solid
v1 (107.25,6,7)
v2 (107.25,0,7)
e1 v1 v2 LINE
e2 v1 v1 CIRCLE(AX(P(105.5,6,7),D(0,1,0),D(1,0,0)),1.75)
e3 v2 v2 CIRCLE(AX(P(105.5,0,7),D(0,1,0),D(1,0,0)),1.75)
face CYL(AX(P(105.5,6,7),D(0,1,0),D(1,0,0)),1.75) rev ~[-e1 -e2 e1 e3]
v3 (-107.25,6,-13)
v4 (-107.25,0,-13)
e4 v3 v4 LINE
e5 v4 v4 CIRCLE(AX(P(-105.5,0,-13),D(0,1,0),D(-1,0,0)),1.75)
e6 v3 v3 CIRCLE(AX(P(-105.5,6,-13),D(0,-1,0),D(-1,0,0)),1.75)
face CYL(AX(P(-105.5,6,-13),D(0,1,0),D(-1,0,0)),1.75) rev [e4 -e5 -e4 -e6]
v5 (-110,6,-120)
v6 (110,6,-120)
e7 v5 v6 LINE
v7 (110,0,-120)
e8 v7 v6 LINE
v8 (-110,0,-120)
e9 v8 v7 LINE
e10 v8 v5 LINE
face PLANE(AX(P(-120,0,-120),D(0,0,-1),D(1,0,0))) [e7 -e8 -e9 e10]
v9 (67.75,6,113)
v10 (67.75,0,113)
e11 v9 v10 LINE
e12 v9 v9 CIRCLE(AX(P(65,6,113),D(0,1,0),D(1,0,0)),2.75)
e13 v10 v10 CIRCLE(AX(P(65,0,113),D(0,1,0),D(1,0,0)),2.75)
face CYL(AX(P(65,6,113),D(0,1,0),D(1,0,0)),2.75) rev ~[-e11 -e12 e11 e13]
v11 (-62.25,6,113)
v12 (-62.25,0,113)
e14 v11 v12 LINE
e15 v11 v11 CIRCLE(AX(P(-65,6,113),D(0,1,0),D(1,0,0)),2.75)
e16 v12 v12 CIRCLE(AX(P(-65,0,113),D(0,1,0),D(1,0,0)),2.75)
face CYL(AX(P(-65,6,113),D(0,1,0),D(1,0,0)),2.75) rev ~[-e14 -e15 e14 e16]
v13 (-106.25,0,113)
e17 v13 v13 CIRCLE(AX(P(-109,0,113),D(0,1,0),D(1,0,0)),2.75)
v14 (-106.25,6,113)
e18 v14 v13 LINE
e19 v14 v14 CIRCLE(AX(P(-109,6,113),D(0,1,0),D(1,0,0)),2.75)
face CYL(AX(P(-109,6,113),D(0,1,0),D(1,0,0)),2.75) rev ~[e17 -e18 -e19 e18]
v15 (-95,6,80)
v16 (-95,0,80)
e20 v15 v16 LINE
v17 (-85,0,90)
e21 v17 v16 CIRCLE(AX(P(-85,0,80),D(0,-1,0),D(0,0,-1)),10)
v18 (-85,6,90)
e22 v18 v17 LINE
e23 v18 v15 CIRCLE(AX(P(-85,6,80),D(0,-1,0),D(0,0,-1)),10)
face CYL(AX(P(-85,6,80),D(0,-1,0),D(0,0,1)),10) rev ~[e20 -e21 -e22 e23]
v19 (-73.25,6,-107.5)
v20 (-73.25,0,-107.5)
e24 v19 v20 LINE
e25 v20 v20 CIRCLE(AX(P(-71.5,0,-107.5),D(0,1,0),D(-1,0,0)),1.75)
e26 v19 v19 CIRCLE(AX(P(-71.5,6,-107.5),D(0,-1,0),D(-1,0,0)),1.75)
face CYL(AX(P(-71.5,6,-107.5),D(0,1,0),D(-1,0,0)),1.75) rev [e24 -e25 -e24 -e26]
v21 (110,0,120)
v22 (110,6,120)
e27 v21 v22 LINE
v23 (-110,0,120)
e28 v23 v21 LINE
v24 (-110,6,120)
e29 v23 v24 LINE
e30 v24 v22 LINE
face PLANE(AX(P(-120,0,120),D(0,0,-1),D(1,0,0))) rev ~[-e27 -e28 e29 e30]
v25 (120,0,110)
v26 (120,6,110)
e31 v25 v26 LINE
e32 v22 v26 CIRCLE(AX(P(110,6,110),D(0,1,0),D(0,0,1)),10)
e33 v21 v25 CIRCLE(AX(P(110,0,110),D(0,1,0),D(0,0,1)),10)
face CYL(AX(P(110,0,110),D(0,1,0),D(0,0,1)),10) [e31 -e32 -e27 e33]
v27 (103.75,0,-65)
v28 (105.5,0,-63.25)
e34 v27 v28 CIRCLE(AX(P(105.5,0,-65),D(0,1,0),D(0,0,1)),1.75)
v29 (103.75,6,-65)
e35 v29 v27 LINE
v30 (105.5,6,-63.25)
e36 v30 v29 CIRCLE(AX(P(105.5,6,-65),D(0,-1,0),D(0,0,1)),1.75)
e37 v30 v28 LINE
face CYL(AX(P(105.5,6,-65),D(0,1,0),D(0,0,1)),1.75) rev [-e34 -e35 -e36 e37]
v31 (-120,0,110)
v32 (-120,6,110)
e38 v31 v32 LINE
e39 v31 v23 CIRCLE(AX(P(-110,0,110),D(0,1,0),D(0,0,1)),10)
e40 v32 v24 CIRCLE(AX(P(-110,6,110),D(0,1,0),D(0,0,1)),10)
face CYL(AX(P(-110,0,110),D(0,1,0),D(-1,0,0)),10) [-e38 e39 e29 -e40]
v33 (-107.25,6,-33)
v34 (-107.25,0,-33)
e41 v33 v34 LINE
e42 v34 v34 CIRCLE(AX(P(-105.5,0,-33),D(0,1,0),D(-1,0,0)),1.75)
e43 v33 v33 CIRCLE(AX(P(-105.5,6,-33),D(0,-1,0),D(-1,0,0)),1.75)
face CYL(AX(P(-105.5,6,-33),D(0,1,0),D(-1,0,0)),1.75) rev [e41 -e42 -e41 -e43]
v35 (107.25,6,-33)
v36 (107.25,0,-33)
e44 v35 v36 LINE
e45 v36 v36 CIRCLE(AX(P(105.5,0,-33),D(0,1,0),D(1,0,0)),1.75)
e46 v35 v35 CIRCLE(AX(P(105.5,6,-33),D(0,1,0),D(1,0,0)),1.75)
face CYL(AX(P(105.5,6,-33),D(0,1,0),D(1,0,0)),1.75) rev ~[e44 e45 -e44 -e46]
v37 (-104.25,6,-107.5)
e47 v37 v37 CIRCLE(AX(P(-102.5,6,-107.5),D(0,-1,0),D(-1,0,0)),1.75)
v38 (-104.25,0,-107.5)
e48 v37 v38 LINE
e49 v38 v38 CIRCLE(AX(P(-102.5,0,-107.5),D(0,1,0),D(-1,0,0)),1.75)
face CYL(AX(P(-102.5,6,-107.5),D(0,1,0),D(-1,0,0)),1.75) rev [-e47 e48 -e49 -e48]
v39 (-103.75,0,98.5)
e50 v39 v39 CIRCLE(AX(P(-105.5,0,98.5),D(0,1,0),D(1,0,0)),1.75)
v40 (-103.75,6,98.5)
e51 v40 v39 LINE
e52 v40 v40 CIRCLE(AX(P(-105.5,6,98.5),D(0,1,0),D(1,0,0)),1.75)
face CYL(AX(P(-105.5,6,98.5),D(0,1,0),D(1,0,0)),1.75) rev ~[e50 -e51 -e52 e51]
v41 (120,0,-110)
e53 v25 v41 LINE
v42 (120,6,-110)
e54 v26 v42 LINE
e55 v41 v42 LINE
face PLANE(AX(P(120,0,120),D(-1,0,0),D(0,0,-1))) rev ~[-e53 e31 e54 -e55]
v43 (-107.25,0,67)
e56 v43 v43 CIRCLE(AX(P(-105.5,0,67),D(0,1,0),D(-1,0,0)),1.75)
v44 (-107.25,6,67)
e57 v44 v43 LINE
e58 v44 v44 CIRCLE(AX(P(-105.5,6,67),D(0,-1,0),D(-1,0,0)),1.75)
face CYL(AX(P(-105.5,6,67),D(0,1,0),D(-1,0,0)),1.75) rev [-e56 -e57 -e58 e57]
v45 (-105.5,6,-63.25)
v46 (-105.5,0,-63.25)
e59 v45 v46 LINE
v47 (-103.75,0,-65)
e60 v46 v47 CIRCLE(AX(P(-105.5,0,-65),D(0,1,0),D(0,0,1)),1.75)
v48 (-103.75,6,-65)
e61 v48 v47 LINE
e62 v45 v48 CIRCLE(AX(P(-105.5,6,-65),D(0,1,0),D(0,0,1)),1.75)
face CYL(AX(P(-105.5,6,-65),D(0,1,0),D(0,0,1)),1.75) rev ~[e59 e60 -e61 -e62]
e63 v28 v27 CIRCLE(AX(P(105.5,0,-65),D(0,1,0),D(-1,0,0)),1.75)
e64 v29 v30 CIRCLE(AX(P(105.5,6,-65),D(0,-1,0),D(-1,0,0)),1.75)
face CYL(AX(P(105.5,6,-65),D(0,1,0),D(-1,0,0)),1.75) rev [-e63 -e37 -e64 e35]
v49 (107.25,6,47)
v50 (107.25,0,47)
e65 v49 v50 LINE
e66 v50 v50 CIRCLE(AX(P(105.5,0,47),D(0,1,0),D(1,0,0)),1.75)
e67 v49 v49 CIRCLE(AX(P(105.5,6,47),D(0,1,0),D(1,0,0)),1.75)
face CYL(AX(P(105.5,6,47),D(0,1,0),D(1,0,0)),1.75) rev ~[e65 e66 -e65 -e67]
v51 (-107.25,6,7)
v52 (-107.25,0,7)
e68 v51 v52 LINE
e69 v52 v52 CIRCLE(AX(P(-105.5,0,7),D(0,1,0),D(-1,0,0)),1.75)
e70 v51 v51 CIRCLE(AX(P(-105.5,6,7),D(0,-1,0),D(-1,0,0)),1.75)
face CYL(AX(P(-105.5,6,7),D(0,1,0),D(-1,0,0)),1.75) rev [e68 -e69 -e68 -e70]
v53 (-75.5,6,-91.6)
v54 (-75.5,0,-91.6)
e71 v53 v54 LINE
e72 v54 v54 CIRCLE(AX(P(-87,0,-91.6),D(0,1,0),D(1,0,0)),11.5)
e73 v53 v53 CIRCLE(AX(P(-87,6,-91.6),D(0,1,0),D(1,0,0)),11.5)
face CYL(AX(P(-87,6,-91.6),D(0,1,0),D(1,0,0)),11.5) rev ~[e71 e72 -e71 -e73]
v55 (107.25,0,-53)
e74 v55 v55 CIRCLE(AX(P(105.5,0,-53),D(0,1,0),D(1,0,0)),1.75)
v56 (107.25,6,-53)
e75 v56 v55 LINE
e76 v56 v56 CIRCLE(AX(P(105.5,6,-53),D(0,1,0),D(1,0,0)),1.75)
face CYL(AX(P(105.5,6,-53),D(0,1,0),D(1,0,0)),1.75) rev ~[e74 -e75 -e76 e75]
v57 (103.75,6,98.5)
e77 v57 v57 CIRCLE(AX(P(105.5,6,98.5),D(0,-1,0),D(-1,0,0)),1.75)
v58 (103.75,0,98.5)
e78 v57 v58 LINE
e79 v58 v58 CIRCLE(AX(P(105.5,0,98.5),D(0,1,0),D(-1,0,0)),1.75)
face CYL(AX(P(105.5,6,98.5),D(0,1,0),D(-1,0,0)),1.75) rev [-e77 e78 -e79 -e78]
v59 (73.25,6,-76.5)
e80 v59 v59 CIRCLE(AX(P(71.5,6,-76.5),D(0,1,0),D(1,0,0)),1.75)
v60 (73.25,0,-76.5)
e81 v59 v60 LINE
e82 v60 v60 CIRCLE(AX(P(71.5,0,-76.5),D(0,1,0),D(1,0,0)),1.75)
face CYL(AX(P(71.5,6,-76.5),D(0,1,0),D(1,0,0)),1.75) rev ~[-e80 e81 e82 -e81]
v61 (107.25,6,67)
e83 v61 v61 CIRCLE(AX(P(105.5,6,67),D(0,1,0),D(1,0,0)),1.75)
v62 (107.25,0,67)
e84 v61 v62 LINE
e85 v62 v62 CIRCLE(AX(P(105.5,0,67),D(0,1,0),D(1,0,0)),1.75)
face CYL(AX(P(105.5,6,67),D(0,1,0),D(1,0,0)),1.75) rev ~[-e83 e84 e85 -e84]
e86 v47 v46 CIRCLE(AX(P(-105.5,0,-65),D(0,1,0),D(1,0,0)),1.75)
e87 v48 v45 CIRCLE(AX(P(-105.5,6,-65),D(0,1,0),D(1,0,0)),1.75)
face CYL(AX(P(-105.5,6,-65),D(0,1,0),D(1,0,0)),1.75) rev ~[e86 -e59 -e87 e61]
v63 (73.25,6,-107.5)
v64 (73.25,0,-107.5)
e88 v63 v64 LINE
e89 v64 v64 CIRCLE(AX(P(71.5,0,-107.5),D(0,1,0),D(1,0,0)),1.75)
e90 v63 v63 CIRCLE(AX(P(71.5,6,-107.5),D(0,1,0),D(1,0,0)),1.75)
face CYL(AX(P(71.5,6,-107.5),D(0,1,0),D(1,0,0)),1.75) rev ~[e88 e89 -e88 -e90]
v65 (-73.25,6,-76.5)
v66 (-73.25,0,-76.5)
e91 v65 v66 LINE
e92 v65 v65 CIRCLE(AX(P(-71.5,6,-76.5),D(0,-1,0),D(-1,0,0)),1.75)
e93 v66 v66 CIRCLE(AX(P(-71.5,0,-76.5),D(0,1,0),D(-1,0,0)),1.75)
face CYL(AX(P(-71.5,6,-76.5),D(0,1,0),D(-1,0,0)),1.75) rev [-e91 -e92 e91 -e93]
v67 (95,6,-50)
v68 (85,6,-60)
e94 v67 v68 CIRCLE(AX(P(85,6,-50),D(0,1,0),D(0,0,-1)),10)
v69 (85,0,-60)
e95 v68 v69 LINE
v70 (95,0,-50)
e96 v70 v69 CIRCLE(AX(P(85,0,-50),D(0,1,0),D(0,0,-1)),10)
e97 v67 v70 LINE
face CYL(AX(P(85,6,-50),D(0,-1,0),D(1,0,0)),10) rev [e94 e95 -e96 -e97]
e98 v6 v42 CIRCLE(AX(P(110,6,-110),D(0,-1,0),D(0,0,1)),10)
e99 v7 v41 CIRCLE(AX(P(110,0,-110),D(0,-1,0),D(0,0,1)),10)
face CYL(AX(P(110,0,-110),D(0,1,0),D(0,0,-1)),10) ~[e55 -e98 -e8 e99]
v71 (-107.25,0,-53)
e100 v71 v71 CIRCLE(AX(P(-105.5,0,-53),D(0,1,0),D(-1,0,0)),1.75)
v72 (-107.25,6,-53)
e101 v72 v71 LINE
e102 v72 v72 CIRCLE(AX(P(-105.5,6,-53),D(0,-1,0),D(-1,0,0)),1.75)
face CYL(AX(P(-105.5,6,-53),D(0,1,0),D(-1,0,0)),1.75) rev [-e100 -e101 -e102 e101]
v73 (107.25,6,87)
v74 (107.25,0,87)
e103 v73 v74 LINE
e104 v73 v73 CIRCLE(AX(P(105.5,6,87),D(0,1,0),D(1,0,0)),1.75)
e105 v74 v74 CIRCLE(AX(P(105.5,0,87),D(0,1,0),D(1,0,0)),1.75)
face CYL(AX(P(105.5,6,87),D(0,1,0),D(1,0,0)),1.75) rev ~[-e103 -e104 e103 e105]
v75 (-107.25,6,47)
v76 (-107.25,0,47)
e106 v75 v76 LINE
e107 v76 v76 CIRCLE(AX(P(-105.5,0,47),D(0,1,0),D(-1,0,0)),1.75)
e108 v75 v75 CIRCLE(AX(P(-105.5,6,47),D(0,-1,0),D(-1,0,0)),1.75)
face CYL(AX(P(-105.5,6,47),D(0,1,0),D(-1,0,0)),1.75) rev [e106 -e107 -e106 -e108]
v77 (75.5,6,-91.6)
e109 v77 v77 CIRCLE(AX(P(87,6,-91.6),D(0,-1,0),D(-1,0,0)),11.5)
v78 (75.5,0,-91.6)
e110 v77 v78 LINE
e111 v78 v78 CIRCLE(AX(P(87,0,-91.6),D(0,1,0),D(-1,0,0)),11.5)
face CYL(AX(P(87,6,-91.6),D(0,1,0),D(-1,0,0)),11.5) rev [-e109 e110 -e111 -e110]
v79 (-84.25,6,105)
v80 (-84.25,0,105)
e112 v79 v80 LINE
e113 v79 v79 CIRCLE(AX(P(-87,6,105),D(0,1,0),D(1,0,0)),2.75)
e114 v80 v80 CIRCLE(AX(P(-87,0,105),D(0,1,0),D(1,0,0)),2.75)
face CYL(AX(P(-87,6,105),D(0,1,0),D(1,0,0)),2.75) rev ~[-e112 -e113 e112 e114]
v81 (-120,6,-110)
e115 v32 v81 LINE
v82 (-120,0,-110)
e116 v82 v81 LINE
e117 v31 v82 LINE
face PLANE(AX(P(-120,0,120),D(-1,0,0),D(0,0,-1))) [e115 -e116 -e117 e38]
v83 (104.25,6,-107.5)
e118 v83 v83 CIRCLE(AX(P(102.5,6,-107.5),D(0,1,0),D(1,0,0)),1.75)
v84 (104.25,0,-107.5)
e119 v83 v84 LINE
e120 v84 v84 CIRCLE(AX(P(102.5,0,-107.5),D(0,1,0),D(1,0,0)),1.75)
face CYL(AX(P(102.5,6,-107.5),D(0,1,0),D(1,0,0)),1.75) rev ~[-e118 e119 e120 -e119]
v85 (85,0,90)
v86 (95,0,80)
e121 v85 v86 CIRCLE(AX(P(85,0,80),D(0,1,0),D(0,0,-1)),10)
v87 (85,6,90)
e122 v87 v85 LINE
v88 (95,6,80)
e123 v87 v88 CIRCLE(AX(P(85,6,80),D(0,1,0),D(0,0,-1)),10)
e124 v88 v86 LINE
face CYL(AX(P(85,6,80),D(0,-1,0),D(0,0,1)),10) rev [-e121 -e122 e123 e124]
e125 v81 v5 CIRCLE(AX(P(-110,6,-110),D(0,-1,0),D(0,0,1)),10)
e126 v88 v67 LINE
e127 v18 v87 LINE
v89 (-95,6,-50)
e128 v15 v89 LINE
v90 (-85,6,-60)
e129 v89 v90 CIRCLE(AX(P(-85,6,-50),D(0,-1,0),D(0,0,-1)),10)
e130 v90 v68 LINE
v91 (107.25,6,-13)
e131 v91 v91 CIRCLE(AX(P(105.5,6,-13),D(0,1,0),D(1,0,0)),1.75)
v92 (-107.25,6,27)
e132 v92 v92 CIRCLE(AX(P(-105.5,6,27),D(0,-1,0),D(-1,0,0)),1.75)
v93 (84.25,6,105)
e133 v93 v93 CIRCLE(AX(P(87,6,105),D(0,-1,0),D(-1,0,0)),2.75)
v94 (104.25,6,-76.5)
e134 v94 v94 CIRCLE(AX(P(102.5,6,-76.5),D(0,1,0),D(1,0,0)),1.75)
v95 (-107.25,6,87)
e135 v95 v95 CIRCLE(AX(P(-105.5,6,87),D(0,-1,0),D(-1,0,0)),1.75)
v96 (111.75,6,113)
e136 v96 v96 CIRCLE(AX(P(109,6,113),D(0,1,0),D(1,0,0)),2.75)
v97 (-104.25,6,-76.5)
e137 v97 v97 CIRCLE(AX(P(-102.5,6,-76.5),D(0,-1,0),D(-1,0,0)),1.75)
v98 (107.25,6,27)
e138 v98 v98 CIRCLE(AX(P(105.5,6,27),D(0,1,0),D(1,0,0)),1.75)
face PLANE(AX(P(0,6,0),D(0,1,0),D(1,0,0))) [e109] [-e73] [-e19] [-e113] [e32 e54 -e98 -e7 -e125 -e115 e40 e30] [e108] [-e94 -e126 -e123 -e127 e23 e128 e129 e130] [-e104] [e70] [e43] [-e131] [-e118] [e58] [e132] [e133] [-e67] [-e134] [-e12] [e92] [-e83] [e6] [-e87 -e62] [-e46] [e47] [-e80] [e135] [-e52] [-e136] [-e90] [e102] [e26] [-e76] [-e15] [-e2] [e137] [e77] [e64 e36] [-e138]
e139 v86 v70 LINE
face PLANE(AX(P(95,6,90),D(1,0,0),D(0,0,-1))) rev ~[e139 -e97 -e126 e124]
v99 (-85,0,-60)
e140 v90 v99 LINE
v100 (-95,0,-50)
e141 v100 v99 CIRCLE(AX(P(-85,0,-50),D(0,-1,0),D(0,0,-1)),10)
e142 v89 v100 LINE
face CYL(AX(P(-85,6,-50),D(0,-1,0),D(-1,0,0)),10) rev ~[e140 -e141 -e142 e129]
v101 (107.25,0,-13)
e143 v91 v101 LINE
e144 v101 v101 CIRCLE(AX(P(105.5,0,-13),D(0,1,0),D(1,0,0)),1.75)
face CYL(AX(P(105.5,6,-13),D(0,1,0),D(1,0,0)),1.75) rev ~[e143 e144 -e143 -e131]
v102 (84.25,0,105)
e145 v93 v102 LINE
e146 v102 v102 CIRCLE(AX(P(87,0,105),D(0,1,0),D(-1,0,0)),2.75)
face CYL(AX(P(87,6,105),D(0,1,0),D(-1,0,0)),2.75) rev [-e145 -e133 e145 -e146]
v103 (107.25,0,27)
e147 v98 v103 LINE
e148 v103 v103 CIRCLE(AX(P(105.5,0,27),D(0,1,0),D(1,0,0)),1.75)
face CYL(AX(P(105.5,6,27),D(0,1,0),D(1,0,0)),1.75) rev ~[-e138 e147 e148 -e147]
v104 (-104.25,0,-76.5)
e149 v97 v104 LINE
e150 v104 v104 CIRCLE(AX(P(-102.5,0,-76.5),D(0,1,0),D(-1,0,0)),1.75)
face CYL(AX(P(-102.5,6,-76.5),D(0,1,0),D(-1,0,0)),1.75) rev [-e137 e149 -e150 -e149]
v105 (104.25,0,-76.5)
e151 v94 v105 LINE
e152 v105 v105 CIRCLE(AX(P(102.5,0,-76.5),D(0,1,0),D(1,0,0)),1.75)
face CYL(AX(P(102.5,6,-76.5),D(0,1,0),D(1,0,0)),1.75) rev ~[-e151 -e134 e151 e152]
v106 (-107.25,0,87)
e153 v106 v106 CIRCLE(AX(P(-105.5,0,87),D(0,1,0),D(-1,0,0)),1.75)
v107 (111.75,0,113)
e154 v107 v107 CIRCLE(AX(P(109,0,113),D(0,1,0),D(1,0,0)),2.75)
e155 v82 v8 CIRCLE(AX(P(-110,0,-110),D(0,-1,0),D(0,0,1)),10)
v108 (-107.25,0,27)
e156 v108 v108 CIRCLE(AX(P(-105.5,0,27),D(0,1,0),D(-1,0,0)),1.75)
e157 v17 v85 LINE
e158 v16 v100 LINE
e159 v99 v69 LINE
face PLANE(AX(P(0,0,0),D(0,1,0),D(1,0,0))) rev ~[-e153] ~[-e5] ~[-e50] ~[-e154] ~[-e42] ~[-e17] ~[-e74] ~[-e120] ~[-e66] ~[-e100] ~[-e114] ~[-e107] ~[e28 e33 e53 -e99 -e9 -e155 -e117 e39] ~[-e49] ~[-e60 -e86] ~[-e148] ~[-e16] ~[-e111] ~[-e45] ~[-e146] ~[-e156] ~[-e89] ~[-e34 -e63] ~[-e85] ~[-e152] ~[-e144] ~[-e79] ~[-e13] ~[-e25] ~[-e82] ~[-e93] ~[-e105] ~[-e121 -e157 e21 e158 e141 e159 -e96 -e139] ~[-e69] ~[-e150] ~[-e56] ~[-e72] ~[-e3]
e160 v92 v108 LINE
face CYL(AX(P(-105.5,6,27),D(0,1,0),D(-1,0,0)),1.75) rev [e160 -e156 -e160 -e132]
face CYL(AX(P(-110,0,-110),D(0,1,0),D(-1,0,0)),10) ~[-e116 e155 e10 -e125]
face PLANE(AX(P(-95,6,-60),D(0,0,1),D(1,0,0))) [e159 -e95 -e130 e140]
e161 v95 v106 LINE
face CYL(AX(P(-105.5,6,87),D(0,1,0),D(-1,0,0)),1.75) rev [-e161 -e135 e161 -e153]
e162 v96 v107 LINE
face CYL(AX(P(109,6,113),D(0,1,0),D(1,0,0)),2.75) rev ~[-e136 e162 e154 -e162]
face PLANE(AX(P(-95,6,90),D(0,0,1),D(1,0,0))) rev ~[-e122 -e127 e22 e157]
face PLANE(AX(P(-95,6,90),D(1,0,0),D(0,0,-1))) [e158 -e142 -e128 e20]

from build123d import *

# Parameters (mm, degrees)
SKETCH1_W           = 240
SKETCH1_H           = 240
BOSS_EXTRUDE1_DEPTH = 6
SKETCH2_R           = 1.75
CUT_EXTRUDE1_DEPTH  = 170.811660377
SKETCH4_R           = 2.75
CUT_EXTRUDE2_DEPTH  = 170.811660377
SKETCH5_W           = 190
SKETCH5_H           = 150
CUT_EXTRUDE3_DEPTH  = 170.811660377
SKETCH6_R           = 11.5
CUT_EXTRUDE4_DEPTH  = 170.811660377
SKETCH9_R           = 2.75
CUT_EXTRUDE7_DEPTH  = 10
CUT_EXTRUDE8_DEPTH  = 10
SKETCH11_R          = 1.75
CUT_EXTRUDE9_DEPTH  = 10
FILLET1_R           = 10


with BuildPart() as part:
    # Sketch1 → Boss-Extrude1 (new body)
    with BuildSketch(Plane(origin=(0, 0, 0), x_dir=(1, 0, 0), z_dir=(0, 1, 0))):
        Rectangle(SKETCH1_W, SKETCH1_H)
    extrude(amount=BOSS_EXTRUDE1_DEPTH)

    # Sketch2 → Cut-Extrude1 (cut, through all)
    with BuildSketch(Plane(origin=(0, 6, 0), x_dir=(1, 0, 0), z_dir=(0, 1, 0))):
        with Locations((105.5, 53)):
            Circle(SKETCH2_R)
        with Locations((71.5, 107.5)):
            Circle(SKETCH2_R)
        with Locations((102.5, 107.5)):
            Circle(SKETCH2_R)
        with Locations((71.5, 76.5)):
            Circle(SKETCH2_R)
        with Locations((102.5, 76.5)):
            Circle(SKETCH2_R)
        with Locations((105.5, 33)):
            Circle(SKETCH2_R)
        with Locations((105.5, 13)):
            Circle(SKETCH2_R)
        with Locations((105.5, -7)):
            Circle(SKETCH2_R)
        with Locations((105.5, -27)):
            Circle(SKETCH2_R)
        with Locations((105.5, -47)):
            Circle(SKETCH2_R)
        with Locations((105.5, -67)):
            Circle(SKETCH2_R)
        with Locations((105.5, -87)):
            Circle(SKETCH2_R)
    cut_extrude1 = extrude(amount=-CUT_EXTRUDE1_DEPTH, mode=Mode.SUBTRACT)

    # Mirror1: Cut-Extrude1 across plane
    add(cut_extrude1.mirror(Plane(origin=(0, 0, 0), x_dir=(0, 0, 1), z_dir=(1, 0, 0))), mode=Mode.SUBTRACT)

    # Sketch4 → Cut-Extrude2 (cut, through all)
    with BuildSketch(Plane(origin=(0, 6, 0), x_dir=(1, 0, 0), z_dir=(0, 1, 0))):
        with Locations((-87, -105)):
            Circle(SKETCH4_R)
    cut_extrude2 = extrude(amount=-CUT_EXTRUDE2_DEPTH, mode=Mode.SUBTRACT)

    # Mirror2: Cut-Extrude2 across plane
    add(cut_extrude2.mirror(Plane(origin=(0, 0, 0), x_dir=(0, 0, 1), z_dir=(1, 0, 0))), mode=Mode.SUBTRACT)

    # Sketch5 → Cut-Extrude3 (cut, through all)
    with BuildSketch(Plane(origin=(0, 6, 0), x_dir=(1, 0, 0), z_dir=(0, 1, 0))):
        with Locations((0, -15)):
            Rectangle(SKETCH5_W, SKETCH5_H)
    extrude(amount=-CUT_EXTRUDE3_DEPTH, mode=Mode.SUBTRACT)

    # Sketch6 → Cut-Extrude4 (cut, through all)
    with BuildSketch(Plane(origin=(0, 6, 0), x_dir=(1, 0, 0), z_dir=(0, 1, 0))):
        with Locations((-87, 91.6)):
            Circle(SKETCH6_R)
    cut_extrude4 = extrude(amount=-CUT_EXTRUDE4_DEPTH, mode=Mode.SUBTRACT)

    # Mirror3: Cut-Extrude4 across plane
    add(cut_extrude4.mirror(Plane(origin=(0, 0, 0), x_dir=(0, 0, 1), z_dir=(1, 0, 0))), mode=Mode.SUBTRACT)

    # Sketch9 → Cut-Extrude7 (cut)
    with BuildSketch(Plane(origin=(0, 6, 0), x_dir=(1, 0, 0), z_dir=(0, 1, 0))):
        with Locations((-109, -113)):
            Circle(SKETCH9_R)
        with Locations((-65, -113)):
            Circle(SKETCH9_R)
        with Locations((65, -113)):
            Circle(SKETCH9_R)
        with Locations((109, -113)):
            Circle(SKETCH9_R)
    extrude(amount=-CUT_EXTRUDE7_DEPTH, mode=Mode.SUBTRACT)

    # Sketch10 → Cut-Extrude8 (cut)
    with BuildSketch(Plane(origin=(0, 6, 0), x_dir=(1, 0, 0), z_dir=(0, 1, 0))):
        with BuildLine():
            ThreePointArc((-105.5, 63.25), (-104.262563133, 63.762563133), (-103.75, 65))
            ThreePointArc((-103.75, 65), (-106.737436867, 66.237436867), (-105.5, 63.25))
        make_face()
    cut_extrude8 = extrude(amount=-CUT_EXTRUDE8_DEPTH, mode=Mode.SUBTRACT)

    # Mirror4: Cut-Extrude8 across plane
    add(cut_extrude8.mirror(Plane(origin=(0, 0, 0), x_dir=(0, 0, 1), z_dir=(1, 0, 0))), mode=Mode.SUBTRACT)

    # Sketch11 → Cut-Extrude9 (cut)
    with BuildSketch(Plane(origin=(0, 6, 0), x_dir=(1, 0, 0), z_dir=(0, 1, 0))):
        with Locations((-105.5, -98.5)):
            Circle(SKETCH11_R)
    cut_extrude9 = extrude(amount=-CUT_EXTRUDE9_DEPTH, mode=Mode.SUBTRACT)

    # Mirror6: Cut-Extrude9 across plane
    add(cut_extrude9.mirror(Plane(origin=(0, 0, 0), x_dir=(0, 0, 1), z_dir=(1, 0, 0))), mode=Mode.SUBTRACT)

    # Fillet1
    fillet1_edges = [part.edges().sort_by_distance(p)[0] for p in [
        (120, 3, -120),
        (-120, 3, -120),
        (-120, 3, 120),
        (120, 3, 120),
        (-95, 3, -60),
        (-95, 3, 90),
        (95, 3, 90),
        (95, 3, -60),
    ]]
    fillet(fillet1_edges, radius=FILLET1_R)


solid = part.part
